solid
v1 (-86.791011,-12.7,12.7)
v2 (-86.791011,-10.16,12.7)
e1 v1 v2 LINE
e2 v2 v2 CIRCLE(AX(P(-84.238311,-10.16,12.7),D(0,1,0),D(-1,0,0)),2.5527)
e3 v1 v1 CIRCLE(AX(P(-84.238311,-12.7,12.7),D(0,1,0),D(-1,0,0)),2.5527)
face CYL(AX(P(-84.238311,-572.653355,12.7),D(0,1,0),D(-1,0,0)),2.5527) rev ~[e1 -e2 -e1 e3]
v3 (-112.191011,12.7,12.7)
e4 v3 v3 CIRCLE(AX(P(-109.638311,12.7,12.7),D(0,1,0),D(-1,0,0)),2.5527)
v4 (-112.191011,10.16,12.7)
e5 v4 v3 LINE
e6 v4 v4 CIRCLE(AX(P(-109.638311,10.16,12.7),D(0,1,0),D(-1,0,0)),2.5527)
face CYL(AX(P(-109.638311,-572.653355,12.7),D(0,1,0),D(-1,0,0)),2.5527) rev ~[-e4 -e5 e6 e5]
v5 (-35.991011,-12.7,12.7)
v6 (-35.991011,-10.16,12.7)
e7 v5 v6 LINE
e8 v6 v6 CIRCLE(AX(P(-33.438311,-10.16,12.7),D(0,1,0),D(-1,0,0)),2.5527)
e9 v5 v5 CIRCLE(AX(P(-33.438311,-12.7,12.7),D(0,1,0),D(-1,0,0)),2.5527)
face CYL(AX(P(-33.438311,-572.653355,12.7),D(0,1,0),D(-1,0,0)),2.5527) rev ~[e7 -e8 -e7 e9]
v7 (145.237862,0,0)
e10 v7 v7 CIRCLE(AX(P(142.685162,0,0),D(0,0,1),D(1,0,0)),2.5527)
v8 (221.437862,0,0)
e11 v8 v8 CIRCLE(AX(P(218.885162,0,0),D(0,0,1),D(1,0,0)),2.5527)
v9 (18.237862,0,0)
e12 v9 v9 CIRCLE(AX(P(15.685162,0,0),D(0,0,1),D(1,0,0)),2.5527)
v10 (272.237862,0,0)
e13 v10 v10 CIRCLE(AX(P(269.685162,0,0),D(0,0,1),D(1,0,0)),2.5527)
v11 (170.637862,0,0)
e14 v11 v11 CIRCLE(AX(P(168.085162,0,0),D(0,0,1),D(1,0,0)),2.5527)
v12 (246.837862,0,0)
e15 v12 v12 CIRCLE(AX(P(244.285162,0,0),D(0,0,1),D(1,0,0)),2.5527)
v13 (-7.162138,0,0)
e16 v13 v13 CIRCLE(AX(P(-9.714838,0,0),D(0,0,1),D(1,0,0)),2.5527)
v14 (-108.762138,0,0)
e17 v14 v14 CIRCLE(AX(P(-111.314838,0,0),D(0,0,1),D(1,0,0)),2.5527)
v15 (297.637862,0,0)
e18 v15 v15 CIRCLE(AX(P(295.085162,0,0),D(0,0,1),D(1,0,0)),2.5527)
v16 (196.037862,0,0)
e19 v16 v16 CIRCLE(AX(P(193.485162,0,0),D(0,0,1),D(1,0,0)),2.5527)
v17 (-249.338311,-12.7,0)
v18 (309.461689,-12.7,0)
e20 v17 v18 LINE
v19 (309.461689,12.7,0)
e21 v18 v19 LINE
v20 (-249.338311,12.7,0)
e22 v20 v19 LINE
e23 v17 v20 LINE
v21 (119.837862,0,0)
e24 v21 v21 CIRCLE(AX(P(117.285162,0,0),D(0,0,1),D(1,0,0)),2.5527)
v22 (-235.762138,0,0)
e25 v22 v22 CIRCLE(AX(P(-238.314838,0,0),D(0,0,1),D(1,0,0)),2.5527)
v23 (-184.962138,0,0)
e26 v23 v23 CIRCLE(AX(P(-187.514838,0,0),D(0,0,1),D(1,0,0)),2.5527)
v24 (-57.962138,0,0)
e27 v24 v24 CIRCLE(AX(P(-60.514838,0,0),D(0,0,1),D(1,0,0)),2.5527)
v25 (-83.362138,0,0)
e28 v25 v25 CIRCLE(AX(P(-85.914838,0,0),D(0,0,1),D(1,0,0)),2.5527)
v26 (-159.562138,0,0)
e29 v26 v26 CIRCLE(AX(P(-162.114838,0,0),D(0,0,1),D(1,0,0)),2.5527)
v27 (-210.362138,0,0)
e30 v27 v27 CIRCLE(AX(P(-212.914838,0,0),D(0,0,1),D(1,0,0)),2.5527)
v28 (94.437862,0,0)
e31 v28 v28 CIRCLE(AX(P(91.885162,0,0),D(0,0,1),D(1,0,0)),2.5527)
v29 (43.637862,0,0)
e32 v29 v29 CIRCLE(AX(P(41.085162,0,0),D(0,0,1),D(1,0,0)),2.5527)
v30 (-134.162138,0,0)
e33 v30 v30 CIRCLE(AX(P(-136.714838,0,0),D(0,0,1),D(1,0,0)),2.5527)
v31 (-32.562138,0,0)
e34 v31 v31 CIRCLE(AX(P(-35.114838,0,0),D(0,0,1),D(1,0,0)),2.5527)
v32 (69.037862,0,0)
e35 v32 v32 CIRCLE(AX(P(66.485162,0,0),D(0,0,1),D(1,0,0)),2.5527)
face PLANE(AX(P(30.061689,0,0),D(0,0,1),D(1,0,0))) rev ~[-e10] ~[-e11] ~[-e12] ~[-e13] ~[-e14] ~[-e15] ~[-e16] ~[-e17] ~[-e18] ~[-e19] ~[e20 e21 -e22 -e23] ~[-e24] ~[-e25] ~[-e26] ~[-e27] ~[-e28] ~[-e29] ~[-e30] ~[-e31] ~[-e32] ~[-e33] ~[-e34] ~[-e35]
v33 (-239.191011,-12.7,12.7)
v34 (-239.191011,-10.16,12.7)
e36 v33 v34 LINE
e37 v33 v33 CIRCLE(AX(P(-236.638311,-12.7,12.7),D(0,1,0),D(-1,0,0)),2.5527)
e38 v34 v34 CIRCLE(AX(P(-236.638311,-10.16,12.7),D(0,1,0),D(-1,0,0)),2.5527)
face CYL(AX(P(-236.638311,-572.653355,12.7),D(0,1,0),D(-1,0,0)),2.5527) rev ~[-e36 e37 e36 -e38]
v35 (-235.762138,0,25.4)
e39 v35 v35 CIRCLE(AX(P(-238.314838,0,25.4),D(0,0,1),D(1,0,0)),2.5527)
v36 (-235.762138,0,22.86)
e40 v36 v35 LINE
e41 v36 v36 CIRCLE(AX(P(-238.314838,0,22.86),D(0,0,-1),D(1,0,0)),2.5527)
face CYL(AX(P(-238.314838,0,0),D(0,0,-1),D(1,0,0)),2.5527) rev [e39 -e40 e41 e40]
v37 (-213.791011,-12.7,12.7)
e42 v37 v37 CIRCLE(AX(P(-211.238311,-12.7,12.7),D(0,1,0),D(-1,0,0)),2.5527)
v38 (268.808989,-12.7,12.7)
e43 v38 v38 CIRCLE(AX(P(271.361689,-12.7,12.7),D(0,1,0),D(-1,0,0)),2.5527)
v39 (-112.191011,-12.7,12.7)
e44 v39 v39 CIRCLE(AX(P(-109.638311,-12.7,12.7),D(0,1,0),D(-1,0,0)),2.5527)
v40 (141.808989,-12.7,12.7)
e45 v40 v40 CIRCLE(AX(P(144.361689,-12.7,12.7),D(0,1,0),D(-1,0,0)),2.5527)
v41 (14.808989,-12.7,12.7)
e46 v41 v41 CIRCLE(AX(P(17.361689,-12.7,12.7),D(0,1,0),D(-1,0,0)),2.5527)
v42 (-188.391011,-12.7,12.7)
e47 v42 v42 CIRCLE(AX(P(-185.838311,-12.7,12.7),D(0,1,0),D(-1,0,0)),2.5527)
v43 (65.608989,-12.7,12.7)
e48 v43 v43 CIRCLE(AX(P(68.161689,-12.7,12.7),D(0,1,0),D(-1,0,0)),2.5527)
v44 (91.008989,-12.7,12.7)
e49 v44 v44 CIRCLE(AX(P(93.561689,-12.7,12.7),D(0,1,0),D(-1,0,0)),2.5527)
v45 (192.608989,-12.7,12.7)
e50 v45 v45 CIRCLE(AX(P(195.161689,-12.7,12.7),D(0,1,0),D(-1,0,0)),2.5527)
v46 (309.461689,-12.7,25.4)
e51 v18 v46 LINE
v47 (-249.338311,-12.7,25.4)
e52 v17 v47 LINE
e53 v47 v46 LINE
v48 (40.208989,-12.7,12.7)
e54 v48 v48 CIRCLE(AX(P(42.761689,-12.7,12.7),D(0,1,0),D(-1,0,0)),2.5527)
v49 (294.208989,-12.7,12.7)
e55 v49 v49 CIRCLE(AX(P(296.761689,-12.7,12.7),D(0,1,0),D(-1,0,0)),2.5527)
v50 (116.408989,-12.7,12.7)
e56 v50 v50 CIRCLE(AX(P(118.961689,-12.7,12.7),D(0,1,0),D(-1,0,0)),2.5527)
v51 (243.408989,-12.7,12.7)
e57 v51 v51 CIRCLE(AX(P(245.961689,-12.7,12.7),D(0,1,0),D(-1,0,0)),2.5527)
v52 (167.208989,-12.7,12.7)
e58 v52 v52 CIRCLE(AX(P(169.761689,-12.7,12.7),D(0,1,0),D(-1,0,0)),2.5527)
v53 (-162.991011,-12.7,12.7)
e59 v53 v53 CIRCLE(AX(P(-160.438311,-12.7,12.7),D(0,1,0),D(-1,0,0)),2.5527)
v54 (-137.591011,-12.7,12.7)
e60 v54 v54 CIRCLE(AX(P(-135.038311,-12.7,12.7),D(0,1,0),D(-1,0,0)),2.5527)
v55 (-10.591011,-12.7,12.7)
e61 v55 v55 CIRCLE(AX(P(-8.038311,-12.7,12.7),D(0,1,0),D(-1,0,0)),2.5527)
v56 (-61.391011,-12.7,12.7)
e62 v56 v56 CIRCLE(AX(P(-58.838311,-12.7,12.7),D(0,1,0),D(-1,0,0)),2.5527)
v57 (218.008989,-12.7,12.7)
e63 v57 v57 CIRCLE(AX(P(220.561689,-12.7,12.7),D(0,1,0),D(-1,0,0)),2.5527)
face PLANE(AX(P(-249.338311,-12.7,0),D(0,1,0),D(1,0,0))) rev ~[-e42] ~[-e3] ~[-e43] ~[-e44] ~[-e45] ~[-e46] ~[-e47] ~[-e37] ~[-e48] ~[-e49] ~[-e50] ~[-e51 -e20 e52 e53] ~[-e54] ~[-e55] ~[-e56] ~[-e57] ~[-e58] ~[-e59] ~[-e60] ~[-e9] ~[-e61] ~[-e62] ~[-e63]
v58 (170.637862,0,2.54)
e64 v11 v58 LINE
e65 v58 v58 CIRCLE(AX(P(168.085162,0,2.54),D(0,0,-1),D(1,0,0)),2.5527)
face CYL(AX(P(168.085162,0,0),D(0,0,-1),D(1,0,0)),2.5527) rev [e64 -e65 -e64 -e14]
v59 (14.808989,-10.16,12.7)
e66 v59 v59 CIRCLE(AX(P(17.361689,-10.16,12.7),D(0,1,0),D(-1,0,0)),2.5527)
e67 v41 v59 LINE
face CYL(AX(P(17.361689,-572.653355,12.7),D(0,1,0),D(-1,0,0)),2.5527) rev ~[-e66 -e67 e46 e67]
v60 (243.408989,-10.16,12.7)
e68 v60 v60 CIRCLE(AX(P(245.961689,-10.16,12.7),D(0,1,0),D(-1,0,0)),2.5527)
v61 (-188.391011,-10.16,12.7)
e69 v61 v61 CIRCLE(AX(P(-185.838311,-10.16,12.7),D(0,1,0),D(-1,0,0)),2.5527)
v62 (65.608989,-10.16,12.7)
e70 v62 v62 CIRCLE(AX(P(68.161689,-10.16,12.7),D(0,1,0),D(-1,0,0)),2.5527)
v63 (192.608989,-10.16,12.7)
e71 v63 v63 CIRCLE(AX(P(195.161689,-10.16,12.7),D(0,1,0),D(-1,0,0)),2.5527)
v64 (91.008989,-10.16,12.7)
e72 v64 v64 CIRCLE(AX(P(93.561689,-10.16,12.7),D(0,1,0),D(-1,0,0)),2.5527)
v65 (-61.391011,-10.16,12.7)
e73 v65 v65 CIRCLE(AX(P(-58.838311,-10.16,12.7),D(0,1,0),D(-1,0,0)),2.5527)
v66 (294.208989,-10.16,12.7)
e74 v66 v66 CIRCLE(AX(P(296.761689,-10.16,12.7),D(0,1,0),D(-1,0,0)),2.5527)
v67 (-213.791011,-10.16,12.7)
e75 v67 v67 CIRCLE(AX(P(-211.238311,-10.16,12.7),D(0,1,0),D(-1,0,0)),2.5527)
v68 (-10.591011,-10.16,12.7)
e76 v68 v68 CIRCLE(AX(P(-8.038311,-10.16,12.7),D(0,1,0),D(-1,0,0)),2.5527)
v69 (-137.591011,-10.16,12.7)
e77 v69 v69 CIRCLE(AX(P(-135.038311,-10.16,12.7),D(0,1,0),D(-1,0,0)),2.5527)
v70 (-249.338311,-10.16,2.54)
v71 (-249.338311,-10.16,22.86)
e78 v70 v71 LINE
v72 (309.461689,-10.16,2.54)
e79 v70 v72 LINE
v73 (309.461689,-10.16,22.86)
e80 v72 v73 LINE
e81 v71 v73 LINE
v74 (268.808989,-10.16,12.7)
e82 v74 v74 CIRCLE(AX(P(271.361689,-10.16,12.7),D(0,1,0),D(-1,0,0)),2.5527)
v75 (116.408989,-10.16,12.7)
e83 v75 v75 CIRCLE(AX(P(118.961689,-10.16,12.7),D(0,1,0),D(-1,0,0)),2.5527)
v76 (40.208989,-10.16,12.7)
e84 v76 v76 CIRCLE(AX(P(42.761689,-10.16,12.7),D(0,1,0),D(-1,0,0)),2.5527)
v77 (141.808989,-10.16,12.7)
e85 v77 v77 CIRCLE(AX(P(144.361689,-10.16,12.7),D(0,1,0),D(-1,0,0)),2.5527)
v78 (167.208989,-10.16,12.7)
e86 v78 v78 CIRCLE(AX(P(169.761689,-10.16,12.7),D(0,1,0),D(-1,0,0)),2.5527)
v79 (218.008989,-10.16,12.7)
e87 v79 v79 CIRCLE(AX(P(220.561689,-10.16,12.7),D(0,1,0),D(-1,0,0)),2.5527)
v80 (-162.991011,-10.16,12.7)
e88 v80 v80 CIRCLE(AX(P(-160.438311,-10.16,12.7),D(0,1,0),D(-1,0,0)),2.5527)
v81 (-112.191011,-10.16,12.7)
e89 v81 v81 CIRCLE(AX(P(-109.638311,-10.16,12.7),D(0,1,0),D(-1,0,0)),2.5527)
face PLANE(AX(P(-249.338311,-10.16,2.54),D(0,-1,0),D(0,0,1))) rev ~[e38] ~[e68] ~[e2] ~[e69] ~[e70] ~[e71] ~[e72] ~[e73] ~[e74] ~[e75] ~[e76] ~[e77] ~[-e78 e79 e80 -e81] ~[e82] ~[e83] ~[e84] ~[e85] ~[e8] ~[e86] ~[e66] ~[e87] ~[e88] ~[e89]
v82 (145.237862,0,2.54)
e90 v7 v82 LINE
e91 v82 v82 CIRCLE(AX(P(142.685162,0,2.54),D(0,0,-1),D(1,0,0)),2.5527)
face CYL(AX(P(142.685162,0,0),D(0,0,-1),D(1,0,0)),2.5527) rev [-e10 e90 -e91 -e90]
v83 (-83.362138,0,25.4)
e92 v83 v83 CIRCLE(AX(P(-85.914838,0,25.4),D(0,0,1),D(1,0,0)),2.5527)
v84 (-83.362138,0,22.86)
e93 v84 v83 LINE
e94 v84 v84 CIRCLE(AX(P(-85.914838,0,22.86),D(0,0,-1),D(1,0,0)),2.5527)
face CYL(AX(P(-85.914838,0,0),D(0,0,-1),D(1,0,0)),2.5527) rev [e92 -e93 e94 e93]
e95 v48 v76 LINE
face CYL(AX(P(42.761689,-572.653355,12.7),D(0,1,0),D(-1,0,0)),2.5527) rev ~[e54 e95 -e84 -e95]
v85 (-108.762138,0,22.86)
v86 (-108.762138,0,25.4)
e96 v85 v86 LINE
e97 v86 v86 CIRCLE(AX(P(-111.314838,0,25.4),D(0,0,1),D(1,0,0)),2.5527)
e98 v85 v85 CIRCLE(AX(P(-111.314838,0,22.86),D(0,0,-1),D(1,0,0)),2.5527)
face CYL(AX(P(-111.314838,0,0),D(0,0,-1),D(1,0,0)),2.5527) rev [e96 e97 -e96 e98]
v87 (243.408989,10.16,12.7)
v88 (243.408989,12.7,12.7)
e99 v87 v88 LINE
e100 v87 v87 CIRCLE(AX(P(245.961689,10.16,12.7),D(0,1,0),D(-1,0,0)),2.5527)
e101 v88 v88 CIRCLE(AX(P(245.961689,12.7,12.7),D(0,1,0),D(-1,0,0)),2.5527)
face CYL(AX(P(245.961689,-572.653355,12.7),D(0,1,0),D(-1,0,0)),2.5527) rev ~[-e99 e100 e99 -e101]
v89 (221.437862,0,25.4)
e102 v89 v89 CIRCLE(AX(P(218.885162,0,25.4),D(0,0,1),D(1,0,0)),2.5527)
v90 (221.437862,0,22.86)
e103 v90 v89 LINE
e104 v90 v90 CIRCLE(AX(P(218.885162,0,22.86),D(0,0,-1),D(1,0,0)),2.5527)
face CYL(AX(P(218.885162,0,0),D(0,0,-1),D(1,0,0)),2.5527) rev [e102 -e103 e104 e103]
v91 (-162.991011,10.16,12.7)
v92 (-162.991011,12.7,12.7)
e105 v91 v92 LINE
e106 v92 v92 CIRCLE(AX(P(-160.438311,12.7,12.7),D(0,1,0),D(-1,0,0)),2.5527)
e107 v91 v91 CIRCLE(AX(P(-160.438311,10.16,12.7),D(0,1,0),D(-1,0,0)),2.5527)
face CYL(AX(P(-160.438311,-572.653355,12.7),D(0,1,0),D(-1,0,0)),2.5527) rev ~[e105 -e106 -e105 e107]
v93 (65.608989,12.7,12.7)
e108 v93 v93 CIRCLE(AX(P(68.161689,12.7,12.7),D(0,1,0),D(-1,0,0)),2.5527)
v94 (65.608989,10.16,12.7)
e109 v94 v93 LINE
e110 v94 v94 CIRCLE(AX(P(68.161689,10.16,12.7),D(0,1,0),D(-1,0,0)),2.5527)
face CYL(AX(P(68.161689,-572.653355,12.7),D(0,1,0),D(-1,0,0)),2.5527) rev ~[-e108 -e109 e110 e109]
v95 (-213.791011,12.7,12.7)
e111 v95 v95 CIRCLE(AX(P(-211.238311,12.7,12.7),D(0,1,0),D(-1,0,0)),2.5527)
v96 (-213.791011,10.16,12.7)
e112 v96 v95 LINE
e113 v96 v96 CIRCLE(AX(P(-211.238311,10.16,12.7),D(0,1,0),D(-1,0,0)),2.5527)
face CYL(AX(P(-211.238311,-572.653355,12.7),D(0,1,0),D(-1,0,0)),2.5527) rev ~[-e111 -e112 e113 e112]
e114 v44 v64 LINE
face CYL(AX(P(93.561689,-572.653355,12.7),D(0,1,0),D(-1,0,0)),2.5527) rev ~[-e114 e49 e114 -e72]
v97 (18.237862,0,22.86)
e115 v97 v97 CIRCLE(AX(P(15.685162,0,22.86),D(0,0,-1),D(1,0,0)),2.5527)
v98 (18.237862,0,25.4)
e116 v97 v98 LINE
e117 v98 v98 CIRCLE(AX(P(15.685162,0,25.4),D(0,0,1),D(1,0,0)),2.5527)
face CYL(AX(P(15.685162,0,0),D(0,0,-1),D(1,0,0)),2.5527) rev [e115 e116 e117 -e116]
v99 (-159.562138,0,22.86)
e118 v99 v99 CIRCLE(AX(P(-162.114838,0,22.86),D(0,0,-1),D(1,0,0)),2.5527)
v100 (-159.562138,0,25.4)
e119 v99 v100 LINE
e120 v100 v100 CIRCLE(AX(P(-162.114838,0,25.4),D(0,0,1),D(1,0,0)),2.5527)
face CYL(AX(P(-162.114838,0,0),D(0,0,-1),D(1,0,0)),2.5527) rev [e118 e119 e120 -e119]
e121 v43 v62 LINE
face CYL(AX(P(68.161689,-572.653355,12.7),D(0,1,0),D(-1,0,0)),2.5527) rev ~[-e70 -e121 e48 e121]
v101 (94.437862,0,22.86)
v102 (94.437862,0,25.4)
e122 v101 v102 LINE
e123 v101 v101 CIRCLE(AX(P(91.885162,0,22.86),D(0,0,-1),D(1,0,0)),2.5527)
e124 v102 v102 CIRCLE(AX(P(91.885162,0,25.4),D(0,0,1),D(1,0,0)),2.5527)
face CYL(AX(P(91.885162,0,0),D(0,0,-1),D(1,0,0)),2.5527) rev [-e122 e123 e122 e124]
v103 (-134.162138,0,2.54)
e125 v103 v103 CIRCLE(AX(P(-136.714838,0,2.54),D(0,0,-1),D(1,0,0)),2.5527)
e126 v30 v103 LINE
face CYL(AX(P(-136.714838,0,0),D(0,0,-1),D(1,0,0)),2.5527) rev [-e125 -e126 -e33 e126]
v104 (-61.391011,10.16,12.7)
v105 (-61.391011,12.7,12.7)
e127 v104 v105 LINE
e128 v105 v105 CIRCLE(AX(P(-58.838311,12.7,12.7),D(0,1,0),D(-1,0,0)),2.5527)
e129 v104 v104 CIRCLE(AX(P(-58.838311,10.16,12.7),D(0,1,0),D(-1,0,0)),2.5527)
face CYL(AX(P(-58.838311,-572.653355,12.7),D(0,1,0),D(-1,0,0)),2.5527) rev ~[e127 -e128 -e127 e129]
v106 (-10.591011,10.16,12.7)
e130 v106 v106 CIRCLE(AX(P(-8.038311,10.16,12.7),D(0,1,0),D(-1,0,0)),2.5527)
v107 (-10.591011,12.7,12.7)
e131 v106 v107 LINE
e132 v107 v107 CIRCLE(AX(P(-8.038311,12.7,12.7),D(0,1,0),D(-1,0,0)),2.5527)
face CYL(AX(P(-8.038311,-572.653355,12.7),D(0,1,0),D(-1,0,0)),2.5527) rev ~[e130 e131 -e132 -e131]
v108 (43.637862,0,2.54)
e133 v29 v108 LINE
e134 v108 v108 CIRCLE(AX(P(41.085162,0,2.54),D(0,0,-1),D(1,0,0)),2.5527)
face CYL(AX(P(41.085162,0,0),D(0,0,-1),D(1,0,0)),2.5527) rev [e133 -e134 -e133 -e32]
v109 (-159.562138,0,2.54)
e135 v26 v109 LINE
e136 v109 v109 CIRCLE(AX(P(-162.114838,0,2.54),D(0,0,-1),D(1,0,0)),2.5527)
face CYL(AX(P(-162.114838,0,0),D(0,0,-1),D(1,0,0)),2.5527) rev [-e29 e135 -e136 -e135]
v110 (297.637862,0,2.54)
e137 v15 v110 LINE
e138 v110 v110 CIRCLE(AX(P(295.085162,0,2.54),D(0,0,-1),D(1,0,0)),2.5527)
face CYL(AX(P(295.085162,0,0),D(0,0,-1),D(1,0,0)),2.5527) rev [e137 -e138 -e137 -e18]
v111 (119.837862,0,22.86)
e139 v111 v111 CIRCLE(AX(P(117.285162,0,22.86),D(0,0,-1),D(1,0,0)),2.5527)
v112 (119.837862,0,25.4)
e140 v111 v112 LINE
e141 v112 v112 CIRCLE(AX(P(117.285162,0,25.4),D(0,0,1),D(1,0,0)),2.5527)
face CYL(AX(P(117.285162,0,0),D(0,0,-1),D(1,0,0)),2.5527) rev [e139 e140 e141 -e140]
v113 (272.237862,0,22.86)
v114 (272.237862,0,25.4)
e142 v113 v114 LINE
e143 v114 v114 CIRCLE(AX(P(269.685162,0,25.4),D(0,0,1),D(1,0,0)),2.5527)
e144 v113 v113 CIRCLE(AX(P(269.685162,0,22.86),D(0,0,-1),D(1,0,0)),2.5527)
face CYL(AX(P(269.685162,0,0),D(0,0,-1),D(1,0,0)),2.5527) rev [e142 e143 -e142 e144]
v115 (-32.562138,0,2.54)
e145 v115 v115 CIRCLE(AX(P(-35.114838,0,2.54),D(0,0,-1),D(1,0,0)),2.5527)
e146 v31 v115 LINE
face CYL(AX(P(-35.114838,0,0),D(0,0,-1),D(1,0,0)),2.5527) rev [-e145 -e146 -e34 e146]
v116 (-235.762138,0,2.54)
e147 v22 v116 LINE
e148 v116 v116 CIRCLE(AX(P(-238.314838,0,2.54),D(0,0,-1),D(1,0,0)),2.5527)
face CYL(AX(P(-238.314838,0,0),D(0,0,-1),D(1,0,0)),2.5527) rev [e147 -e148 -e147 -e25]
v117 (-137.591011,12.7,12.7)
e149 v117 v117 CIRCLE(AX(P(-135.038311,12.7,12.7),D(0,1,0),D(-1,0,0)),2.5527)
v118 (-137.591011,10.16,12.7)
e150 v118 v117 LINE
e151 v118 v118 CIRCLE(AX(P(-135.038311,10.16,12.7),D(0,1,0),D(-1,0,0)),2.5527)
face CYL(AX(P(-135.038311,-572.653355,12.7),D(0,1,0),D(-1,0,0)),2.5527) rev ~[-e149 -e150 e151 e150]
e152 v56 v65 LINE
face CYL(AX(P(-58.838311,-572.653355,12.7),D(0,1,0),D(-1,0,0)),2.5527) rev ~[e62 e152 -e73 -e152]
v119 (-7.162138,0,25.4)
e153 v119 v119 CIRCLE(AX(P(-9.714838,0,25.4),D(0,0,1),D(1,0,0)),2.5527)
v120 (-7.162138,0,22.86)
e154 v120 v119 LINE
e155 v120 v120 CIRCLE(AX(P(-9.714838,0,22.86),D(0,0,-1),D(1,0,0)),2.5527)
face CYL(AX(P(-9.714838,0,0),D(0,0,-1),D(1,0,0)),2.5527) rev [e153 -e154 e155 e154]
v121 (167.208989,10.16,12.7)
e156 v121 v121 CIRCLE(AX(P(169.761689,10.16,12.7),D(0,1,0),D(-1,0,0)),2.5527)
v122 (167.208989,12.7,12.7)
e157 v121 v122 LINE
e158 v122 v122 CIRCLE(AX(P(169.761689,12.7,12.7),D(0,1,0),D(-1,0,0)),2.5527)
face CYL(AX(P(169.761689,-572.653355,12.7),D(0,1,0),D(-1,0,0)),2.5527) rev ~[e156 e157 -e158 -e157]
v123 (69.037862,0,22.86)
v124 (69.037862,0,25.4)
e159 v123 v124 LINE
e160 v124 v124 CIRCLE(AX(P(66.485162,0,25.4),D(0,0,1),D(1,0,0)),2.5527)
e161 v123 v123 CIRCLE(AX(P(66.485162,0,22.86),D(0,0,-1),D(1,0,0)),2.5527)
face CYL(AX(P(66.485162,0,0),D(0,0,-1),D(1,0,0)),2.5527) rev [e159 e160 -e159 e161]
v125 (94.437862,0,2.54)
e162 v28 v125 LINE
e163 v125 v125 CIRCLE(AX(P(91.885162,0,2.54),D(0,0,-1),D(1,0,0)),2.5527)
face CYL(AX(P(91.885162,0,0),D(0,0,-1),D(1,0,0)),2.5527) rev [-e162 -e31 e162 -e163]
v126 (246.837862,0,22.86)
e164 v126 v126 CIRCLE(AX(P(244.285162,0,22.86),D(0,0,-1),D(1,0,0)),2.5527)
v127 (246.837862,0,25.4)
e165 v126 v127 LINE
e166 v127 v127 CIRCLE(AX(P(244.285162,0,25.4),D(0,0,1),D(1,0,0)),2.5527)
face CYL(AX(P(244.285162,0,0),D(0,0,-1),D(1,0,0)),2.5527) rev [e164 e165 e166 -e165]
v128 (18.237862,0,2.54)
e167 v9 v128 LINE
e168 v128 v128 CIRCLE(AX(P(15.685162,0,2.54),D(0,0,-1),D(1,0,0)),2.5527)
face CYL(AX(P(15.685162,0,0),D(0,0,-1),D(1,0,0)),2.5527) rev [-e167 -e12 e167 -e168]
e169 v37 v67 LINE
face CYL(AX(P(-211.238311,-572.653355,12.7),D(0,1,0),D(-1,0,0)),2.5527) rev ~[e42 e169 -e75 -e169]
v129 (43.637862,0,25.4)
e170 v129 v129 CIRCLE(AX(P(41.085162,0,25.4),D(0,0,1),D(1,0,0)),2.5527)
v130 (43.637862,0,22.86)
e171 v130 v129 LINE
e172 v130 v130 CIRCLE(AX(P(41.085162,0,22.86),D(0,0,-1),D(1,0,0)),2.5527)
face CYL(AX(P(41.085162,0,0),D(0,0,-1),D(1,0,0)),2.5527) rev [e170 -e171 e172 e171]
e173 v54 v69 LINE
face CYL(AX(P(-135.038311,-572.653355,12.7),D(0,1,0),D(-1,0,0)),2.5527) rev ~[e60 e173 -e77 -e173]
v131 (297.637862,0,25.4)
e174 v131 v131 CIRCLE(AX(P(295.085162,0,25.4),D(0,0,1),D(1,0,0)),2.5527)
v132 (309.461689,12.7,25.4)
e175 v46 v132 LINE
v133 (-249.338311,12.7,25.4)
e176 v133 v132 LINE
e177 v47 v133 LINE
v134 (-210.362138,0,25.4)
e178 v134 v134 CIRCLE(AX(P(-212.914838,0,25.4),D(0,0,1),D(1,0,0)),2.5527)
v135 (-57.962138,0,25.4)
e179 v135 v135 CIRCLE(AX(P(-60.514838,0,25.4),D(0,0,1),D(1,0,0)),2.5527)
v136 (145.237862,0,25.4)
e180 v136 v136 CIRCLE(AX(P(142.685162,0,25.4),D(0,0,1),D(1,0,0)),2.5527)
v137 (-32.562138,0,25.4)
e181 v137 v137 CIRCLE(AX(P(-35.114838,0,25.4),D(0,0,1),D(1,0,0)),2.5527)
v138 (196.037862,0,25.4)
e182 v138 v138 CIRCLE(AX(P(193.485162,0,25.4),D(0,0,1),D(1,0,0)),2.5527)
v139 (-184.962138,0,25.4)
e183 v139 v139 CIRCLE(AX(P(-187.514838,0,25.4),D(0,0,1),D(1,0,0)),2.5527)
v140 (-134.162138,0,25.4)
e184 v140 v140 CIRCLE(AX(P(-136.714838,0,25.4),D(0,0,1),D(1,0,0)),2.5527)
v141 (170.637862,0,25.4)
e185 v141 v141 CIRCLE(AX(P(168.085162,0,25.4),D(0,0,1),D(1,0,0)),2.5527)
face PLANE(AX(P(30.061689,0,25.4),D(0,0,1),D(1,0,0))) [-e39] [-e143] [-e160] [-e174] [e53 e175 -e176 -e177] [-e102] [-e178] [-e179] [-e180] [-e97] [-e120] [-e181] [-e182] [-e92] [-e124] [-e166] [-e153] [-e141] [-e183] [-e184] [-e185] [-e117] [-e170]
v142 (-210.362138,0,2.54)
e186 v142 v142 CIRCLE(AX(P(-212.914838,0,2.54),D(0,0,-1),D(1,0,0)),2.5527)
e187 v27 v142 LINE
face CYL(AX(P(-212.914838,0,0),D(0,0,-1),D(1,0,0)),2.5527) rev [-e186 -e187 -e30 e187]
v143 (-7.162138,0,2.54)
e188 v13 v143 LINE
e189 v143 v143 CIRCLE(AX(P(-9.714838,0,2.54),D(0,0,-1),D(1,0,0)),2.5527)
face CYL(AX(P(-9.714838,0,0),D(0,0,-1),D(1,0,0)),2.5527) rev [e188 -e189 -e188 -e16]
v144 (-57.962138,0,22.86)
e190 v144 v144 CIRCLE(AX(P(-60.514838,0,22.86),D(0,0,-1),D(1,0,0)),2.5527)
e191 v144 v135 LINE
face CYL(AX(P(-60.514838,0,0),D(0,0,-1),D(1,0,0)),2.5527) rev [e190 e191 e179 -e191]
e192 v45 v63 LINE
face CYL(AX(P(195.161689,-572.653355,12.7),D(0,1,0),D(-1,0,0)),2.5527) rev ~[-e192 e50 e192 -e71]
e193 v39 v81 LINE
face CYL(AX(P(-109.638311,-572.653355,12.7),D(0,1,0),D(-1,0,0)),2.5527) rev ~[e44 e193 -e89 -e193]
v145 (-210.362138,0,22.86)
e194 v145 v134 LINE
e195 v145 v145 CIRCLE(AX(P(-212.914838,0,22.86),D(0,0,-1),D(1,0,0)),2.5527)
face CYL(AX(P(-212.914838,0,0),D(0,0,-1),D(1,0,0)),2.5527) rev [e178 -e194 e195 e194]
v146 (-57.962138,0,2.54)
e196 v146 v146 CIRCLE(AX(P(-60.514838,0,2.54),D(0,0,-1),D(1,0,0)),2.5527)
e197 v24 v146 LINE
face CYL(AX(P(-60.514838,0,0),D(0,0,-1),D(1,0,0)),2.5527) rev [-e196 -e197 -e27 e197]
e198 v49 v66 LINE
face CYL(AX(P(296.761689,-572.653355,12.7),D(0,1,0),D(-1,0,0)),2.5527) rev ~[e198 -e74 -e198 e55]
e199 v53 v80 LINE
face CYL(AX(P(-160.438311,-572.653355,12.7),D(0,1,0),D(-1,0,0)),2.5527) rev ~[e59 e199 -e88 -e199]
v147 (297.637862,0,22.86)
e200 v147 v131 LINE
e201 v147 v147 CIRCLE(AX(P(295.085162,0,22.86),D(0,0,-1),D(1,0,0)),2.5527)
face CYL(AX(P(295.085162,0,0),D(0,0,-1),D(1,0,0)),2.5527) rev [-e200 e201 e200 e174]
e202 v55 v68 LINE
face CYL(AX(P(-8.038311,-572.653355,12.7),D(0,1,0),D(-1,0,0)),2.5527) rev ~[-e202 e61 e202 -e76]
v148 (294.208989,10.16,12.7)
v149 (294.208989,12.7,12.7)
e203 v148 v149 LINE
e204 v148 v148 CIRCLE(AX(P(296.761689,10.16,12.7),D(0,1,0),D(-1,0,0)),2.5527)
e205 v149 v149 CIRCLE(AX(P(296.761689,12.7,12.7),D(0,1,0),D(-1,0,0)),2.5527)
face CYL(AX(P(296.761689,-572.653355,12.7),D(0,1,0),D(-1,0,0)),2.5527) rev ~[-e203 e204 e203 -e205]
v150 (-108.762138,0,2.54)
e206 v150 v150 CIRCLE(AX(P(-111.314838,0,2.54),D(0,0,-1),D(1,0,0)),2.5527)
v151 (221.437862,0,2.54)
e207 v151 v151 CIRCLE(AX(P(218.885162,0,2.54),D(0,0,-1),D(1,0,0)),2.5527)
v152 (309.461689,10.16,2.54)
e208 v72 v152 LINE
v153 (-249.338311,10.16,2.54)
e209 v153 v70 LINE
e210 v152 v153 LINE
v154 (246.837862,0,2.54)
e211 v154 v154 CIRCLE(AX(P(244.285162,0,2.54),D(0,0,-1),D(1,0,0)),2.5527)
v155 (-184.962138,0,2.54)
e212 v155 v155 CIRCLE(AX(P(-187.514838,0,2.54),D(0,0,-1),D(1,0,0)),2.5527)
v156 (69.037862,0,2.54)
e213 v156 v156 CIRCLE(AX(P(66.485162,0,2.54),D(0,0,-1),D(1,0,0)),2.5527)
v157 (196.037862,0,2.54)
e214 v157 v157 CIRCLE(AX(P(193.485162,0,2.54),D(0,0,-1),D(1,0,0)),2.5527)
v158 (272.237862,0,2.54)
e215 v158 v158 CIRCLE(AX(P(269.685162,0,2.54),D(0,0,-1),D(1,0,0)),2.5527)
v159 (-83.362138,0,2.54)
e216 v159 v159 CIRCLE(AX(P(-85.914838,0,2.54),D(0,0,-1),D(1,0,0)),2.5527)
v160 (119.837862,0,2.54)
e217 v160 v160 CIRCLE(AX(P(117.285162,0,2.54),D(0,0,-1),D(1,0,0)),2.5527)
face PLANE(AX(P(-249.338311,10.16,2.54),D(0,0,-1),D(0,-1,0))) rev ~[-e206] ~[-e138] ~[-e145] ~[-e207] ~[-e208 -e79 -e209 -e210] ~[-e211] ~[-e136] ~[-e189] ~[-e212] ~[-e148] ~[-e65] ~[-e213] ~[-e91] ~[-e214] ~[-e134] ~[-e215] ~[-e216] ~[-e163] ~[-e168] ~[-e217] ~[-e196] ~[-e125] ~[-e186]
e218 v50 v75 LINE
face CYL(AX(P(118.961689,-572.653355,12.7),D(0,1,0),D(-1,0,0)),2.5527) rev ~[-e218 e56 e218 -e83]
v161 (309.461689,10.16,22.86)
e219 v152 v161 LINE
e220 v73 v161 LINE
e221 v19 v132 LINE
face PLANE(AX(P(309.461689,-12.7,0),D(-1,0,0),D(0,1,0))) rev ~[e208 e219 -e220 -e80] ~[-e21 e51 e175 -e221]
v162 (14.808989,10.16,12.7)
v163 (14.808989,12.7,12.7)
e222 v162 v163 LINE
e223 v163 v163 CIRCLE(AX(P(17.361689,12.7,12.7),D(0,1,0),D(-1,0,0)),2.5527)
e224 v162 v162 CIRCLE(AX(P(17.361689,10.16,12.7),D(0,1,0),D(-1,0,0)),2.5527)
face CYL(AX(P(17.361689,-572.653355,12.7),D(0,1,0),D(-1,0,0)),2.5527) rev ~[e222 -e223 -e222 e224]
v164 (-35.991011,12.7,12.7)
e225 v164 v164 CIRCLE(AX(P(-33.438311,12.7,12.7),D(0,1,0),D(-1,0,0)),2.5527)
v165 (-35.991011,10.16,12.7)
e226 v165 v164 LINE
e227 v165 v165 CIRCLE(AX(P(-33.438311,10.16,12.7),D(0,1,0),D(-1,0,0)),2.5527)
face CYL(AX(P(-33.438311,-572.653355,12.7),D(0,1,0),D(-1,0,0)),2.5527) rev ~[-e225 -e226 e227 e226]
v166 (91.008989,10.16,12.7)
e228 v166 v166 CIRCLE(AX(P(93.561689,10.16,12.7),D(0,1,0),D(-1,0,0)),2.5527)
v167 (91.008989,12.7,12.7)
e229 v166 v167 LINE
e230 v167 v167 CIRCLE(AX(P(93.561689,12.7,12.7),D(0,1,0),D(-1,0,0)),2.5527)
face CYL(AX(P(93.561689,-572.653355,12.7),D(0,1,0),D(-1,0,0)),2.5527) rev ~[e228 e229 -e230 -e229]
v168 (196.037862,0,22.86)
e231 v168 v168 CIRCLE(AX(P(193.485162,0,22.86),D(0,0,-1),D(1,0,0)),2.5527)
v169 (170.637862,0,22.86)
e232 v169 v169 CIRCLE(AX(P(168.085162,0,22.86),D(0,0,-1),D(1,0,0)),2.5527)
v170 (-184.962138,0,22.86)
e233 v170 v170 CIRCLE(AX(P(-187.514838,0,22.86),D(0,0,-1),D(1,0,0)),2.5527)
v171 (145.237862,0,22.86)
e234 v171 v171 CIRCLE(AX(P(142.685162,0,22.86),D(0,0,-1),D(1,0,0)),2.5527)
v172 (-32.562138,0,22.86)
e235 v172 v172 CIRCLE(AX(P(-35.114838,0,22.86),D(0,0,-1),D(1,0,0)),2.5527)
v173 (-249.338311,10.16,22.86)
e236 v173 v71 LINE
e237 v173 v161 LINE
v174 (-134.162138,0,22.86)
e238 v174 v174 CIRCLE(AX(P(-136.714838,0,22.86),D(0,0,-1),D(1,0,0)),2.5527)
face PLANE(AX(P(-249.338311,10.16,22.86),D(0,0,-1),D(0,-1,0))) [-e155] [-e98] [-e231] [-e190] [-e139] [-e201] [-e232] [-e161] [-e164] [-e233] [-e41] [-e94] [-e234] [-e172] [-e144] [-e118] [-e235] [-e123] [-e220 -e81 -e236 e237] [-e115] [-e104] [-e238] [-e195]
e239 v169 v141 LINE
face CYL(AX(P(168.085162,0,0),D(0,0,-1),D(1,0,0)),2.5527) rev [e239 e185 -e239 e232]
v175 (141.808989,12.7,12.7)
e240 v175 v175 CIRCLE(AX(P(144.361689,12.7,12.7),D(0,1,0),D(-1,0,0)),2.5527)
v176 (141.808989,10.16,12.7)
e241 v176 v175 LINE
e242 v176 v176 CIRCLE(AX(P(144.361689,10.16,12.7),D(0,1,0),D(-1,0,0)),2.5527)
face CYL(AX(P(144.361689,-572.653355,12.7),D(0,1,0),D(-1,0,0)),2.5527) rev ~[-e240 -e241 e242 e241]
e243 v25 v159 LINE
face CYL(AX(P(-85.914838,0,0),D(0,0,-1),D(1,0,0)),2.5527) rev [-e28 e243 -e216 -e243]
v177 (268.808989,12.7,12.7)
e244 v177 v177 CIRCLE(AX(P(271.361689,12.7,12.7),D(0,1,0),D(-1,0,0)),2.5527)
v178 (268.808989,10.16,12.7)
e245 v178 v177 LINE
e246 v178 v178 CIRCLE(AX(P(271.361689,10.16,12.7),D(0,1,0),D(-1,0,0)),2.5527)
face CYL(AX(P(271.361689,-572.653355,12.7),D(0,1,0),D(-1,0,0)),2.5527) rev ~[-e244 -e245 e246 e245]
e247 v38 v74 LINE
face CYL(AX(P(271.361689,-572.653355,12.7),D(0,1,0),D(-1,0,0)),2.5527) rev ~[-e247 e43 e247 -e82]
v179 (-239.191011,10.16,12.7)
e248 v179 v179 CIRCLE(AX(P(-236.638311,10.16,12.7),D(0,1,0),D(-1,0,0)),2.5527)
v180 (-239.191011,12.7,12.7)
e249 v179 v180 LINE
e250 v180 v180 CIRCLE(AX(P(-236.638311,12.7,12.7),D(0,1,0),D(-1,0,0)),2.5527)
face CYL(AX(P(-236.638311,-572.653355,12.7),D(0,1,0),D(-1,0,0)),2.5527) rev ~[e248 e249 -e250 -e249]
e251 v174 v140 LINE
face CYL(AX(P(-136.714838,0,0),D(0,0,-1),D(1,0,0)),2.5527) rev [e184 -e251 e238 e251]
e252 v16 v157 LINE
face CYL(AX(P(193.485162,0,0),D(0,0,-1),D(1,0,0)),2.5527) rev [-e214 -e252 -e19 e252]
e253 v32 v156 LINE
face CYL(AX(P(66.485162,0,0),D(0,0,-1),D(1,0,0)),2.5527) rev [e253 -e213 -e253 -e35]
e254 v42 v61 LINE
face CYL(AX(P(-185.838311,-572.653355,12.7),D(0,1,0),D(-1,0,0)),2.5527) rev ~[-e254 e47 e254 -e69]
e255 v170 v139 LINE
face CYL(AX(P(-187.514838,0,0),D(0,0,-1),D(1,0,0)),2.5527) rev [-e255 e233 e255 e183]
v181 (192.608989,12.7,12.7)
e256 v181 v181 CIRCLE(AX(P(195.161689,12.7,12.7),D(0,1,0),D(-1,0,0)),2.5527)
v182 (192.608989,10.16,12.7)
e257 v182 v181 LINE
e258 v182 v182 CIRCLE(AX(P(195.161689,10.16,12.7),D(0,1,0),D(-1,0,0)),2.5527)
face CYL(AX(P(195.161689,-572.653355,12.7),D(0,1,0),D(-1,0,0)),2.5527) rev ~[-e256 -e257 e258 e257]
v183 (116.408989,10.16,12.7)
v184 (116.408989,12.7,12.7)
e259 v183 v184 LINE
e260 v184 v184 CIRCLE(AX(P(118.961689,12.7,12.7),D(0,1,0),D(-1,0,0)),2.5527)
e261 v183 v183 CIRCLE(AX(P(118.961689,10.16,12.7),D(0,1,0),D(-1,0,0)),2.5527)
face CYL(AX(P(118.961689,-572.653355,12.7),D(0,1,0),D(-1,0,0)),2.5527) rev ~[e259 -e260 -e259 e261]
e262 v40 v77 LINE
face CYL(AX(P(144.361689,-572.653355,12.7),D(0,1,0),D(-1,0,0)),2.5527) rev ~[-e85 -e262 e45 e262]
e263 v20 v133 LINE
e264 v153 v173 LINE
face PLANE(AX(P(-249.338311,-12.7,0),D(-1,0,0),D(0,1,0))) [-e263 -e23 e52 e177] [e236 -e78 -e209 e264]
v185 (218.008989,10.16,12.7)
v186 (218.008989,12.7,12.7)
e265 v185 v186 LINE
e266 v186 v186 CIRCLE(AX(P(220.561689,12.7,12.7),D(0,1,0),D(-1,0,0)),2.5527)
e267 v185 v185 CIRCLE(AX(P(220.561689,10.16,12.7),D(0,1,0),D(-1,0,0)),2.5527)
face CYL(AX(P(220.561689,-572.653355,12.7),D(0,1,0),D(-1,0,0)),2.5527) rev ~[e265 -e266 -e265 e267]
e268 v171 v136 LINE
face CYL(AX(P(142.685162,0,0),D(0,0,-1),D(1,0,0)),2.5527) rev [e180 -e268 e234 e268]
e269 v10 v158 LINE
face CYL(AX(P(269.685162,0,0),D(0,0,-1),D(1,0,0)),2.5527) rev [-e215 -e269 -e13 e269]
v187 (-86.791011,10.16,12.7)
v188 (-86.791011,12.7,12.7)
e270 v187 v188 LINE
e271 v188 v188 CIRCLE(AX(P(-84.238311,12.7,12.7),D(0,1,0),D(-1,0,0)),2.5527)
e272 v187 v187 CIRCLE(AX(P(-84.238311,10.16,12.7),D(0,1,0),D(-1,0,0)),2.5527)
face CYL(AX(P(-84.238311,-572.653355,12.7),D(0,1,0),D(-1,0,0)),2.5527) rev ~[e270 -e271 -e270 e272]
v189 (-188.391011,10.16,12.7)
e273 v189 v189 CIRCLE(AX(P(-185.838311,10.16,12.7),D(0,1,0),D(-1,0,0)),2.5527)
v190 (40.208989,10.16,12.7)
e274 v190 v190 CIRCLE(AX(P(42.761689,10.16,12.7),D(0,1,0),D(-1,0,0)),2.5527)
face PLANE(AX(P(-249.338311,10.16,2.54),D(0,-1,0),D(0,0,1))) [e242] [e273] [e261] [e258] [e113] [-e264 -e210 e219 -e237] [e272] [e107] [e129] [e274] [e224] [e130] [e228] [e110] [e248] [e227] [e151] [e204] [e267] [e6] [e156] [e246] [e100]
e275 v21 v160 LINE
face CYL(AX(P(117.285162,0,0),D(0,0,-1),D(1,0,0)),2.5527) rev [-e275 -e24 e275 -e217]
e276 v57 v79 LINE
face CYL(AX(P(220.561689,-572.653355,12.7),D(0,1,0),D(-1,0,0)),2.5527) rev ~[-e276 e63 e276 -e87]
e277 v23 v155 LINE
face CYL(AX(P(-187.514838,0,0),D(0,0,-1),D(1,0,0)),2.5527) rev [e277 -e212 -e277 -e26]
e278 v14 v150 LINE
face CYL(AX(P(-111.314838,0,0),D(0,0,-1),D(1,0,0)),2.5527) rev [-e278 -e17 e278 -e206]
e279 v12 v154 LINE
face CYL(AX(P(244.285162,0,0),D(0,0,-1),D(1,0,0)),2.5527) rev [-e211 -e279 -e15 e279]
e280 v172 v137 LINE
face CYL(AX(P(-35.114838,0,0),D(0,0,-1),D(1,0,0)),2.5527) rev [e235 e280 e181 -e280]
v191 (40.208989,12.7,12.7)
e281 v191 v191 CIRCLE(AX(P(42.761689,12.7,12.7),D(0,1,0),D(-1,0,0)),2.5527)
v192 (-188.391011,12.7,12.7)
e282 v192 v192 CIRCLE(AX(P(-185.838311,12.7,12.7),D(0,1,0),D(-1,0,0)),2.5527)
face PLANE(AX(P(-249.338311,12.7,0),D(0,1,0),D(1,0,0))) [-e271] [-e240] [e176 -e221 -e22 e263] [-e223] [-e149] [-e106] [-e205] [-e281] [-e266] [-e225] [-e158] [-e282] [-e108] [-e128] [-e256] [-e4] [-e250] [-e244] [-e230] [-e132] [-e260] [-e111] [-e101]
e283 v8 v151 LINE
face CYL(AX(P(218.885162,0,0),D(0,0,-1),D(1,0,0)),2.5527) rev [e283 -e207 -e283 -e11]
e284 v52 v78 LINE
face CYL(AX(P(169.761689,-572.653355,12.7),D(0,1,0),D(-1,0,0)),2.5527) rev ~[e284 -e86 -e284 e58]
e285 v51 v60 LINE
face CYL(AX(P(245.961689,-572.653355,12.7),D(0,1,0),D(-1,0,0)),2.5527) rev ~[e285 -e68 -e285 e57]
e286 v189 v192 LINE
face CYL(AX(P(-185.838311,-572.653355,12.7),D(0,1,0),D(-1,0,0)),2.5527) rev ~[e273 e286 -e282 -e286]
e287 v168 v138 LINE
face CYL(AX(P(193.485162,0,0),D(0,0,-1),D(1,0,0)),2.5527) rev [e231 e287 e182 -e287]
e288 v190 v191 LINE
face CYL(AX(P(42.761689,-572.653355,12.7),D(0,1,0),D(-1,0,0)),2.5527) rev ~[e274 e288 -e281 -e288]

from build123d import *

# Parameters (mm, degrees)
F0_W     = 558.8
F0_H     = 25.4
F0_R     = 2.5527
F1_DEPTH = 25.4
F2_W     = 20.32
F2_H     = 20.32
F3_DEPTH = 508
F5_D     = 5.1054
F6_W     = 20.32
F6_H     = 20.32
F7_DEPTH = 558.8


with BuildPart() as f1:
    # F0 (on Top) → F1 (new body)
    with BuildSketch(Plane.XY):
        with Locations((30.061689, 0)):
            Rectangle(F0_W, F0_H)
        with Locations((-238.314838, 0)):
            Circle(F0_R, mode=Mode.SUBTRACT)
        with Locations((-212.914838, 0)):
            Circle(F0_R, mode=Mode.SUBTRACT)
        with Locations((-187.514838, 0)):
            Circle(F0_R, mode=Mode.SUBTRACT)
        with Locations((-162.114838, 0)):
            Circle(F0_R, mode=Mode.SUBTRACT)
        with Locations((-136.714838, 0)):
            Circle(F0_R, mode=Mode.SUBTRACT)
        with Locations((-111.314838, 0)):
            Circle(F0_R, mode=Mode.SUBTRACT)
        with Locations((-85.914838, 0)):
            Circle(F0_R, mode=Mode.SUBTRACT)
        with Locations((-60.514838, 0)):
            Circle(F0_R, mode=Mode.SUBTRACT)
        with Locations((-35.114838, 0)):
            Circle(F0_R, mode=Mode.SUBTRACT)
        with Locations((-9.714838, 0)):
            Circle(F0_R, mode=Mode.SUBTRACT)
        with Locations((15.685162, 0)):
            Circle(F0_R, mode=Mode.SUBTRACT)
        with Locations((41.085162, 0)):
            Circle(F0_R, mode=Mode.SUBTRACT)
        with Locations((66.485162, 0)):
            Circle(F0_R, mode=Mode.SUBTRACT)
        with Locations((91.885162, 0)):
            Circle(F0_R, mode=Mode.SUBTRACT)
        with Locations((117.285162, 0)):
            Circle(F0_R, mode=Mode.SUBTRACT)
        with Locations((142.685162, 0)):
            Circle(F0_R, mode=Mode.SUBTRACT)
        with Locations((168.085162, 0)):
            Circle(F0_R, mode=Mode.SUBTRACT)
        with Locations((193.485162, 0)):
            Circle(F0_R, mode=Mode.SUBTRACT)
        with Locations((218.885162, 0)):
            Circle(F0_R, mode=Mode.SUBTRACT)
        with Locations((244.285162, 0)):
            Circle(F0_R, mode=Mode.SUBTRACT)
        with Locations((269.685162, 0)):
            Circle(F0_R, mode=Mode.SUBTRACT)
        with Locations((295.085162, 0)):
            Circle(F0_R, mode=Mode.SUBTRACT)
    extrude(amount=F1_DEPTH)

    # F2 (on face) → F3 (cut)
    with BuildSketch(Plane(origin=(-249.338311, 0, 0), x_dir=(0, -1, 0), z_dir=(-1, 0, 0))):
        with Locations((0, 12.7)):
            Rectangle(F2_W, F2_H)
    extrude(amount=-F3_DEPTH, mode=Mode.SUBTRACT)

    # F5 (through all)
    with Locations(Plane.XZ.offset(12.7)):
        with Locations((118.961689, 12.7), (220.561689, 12.7), (42.761689, 12.7), (169.761689, 12.7), (271.361689, 12.7), (-33.438311, 12.7), (195.161689, 12.7), (245.961689, 12.7), (-58.838311, 12.7), (-84.238311, 12.7), (-185.838311, 12.7), (-236.638311, 12.7), (17.361689, 12.7), (-8.038311, 12.7), (296.761689, 12.7), (68.161689, 12.7), (93.561689, 12.7), (144.361689, 12.7), (-211.238311, 12.7), (-109.638311, 12.7), (-135.038311, 12.7), (-160.438311, 12.7)):
            Hole(F5_D / 2)

    # F6 (on face) → F7 (cut)
    with BuildSketch(Plane.YZ.offset(309.461689)):
        with Locations((0, 12.7)):
            Rectangle(F6_W, F6_H)
    extrude(amount=-F7_DEPTH, mode=Mode.SUBTRACT)


solid = f1.part
